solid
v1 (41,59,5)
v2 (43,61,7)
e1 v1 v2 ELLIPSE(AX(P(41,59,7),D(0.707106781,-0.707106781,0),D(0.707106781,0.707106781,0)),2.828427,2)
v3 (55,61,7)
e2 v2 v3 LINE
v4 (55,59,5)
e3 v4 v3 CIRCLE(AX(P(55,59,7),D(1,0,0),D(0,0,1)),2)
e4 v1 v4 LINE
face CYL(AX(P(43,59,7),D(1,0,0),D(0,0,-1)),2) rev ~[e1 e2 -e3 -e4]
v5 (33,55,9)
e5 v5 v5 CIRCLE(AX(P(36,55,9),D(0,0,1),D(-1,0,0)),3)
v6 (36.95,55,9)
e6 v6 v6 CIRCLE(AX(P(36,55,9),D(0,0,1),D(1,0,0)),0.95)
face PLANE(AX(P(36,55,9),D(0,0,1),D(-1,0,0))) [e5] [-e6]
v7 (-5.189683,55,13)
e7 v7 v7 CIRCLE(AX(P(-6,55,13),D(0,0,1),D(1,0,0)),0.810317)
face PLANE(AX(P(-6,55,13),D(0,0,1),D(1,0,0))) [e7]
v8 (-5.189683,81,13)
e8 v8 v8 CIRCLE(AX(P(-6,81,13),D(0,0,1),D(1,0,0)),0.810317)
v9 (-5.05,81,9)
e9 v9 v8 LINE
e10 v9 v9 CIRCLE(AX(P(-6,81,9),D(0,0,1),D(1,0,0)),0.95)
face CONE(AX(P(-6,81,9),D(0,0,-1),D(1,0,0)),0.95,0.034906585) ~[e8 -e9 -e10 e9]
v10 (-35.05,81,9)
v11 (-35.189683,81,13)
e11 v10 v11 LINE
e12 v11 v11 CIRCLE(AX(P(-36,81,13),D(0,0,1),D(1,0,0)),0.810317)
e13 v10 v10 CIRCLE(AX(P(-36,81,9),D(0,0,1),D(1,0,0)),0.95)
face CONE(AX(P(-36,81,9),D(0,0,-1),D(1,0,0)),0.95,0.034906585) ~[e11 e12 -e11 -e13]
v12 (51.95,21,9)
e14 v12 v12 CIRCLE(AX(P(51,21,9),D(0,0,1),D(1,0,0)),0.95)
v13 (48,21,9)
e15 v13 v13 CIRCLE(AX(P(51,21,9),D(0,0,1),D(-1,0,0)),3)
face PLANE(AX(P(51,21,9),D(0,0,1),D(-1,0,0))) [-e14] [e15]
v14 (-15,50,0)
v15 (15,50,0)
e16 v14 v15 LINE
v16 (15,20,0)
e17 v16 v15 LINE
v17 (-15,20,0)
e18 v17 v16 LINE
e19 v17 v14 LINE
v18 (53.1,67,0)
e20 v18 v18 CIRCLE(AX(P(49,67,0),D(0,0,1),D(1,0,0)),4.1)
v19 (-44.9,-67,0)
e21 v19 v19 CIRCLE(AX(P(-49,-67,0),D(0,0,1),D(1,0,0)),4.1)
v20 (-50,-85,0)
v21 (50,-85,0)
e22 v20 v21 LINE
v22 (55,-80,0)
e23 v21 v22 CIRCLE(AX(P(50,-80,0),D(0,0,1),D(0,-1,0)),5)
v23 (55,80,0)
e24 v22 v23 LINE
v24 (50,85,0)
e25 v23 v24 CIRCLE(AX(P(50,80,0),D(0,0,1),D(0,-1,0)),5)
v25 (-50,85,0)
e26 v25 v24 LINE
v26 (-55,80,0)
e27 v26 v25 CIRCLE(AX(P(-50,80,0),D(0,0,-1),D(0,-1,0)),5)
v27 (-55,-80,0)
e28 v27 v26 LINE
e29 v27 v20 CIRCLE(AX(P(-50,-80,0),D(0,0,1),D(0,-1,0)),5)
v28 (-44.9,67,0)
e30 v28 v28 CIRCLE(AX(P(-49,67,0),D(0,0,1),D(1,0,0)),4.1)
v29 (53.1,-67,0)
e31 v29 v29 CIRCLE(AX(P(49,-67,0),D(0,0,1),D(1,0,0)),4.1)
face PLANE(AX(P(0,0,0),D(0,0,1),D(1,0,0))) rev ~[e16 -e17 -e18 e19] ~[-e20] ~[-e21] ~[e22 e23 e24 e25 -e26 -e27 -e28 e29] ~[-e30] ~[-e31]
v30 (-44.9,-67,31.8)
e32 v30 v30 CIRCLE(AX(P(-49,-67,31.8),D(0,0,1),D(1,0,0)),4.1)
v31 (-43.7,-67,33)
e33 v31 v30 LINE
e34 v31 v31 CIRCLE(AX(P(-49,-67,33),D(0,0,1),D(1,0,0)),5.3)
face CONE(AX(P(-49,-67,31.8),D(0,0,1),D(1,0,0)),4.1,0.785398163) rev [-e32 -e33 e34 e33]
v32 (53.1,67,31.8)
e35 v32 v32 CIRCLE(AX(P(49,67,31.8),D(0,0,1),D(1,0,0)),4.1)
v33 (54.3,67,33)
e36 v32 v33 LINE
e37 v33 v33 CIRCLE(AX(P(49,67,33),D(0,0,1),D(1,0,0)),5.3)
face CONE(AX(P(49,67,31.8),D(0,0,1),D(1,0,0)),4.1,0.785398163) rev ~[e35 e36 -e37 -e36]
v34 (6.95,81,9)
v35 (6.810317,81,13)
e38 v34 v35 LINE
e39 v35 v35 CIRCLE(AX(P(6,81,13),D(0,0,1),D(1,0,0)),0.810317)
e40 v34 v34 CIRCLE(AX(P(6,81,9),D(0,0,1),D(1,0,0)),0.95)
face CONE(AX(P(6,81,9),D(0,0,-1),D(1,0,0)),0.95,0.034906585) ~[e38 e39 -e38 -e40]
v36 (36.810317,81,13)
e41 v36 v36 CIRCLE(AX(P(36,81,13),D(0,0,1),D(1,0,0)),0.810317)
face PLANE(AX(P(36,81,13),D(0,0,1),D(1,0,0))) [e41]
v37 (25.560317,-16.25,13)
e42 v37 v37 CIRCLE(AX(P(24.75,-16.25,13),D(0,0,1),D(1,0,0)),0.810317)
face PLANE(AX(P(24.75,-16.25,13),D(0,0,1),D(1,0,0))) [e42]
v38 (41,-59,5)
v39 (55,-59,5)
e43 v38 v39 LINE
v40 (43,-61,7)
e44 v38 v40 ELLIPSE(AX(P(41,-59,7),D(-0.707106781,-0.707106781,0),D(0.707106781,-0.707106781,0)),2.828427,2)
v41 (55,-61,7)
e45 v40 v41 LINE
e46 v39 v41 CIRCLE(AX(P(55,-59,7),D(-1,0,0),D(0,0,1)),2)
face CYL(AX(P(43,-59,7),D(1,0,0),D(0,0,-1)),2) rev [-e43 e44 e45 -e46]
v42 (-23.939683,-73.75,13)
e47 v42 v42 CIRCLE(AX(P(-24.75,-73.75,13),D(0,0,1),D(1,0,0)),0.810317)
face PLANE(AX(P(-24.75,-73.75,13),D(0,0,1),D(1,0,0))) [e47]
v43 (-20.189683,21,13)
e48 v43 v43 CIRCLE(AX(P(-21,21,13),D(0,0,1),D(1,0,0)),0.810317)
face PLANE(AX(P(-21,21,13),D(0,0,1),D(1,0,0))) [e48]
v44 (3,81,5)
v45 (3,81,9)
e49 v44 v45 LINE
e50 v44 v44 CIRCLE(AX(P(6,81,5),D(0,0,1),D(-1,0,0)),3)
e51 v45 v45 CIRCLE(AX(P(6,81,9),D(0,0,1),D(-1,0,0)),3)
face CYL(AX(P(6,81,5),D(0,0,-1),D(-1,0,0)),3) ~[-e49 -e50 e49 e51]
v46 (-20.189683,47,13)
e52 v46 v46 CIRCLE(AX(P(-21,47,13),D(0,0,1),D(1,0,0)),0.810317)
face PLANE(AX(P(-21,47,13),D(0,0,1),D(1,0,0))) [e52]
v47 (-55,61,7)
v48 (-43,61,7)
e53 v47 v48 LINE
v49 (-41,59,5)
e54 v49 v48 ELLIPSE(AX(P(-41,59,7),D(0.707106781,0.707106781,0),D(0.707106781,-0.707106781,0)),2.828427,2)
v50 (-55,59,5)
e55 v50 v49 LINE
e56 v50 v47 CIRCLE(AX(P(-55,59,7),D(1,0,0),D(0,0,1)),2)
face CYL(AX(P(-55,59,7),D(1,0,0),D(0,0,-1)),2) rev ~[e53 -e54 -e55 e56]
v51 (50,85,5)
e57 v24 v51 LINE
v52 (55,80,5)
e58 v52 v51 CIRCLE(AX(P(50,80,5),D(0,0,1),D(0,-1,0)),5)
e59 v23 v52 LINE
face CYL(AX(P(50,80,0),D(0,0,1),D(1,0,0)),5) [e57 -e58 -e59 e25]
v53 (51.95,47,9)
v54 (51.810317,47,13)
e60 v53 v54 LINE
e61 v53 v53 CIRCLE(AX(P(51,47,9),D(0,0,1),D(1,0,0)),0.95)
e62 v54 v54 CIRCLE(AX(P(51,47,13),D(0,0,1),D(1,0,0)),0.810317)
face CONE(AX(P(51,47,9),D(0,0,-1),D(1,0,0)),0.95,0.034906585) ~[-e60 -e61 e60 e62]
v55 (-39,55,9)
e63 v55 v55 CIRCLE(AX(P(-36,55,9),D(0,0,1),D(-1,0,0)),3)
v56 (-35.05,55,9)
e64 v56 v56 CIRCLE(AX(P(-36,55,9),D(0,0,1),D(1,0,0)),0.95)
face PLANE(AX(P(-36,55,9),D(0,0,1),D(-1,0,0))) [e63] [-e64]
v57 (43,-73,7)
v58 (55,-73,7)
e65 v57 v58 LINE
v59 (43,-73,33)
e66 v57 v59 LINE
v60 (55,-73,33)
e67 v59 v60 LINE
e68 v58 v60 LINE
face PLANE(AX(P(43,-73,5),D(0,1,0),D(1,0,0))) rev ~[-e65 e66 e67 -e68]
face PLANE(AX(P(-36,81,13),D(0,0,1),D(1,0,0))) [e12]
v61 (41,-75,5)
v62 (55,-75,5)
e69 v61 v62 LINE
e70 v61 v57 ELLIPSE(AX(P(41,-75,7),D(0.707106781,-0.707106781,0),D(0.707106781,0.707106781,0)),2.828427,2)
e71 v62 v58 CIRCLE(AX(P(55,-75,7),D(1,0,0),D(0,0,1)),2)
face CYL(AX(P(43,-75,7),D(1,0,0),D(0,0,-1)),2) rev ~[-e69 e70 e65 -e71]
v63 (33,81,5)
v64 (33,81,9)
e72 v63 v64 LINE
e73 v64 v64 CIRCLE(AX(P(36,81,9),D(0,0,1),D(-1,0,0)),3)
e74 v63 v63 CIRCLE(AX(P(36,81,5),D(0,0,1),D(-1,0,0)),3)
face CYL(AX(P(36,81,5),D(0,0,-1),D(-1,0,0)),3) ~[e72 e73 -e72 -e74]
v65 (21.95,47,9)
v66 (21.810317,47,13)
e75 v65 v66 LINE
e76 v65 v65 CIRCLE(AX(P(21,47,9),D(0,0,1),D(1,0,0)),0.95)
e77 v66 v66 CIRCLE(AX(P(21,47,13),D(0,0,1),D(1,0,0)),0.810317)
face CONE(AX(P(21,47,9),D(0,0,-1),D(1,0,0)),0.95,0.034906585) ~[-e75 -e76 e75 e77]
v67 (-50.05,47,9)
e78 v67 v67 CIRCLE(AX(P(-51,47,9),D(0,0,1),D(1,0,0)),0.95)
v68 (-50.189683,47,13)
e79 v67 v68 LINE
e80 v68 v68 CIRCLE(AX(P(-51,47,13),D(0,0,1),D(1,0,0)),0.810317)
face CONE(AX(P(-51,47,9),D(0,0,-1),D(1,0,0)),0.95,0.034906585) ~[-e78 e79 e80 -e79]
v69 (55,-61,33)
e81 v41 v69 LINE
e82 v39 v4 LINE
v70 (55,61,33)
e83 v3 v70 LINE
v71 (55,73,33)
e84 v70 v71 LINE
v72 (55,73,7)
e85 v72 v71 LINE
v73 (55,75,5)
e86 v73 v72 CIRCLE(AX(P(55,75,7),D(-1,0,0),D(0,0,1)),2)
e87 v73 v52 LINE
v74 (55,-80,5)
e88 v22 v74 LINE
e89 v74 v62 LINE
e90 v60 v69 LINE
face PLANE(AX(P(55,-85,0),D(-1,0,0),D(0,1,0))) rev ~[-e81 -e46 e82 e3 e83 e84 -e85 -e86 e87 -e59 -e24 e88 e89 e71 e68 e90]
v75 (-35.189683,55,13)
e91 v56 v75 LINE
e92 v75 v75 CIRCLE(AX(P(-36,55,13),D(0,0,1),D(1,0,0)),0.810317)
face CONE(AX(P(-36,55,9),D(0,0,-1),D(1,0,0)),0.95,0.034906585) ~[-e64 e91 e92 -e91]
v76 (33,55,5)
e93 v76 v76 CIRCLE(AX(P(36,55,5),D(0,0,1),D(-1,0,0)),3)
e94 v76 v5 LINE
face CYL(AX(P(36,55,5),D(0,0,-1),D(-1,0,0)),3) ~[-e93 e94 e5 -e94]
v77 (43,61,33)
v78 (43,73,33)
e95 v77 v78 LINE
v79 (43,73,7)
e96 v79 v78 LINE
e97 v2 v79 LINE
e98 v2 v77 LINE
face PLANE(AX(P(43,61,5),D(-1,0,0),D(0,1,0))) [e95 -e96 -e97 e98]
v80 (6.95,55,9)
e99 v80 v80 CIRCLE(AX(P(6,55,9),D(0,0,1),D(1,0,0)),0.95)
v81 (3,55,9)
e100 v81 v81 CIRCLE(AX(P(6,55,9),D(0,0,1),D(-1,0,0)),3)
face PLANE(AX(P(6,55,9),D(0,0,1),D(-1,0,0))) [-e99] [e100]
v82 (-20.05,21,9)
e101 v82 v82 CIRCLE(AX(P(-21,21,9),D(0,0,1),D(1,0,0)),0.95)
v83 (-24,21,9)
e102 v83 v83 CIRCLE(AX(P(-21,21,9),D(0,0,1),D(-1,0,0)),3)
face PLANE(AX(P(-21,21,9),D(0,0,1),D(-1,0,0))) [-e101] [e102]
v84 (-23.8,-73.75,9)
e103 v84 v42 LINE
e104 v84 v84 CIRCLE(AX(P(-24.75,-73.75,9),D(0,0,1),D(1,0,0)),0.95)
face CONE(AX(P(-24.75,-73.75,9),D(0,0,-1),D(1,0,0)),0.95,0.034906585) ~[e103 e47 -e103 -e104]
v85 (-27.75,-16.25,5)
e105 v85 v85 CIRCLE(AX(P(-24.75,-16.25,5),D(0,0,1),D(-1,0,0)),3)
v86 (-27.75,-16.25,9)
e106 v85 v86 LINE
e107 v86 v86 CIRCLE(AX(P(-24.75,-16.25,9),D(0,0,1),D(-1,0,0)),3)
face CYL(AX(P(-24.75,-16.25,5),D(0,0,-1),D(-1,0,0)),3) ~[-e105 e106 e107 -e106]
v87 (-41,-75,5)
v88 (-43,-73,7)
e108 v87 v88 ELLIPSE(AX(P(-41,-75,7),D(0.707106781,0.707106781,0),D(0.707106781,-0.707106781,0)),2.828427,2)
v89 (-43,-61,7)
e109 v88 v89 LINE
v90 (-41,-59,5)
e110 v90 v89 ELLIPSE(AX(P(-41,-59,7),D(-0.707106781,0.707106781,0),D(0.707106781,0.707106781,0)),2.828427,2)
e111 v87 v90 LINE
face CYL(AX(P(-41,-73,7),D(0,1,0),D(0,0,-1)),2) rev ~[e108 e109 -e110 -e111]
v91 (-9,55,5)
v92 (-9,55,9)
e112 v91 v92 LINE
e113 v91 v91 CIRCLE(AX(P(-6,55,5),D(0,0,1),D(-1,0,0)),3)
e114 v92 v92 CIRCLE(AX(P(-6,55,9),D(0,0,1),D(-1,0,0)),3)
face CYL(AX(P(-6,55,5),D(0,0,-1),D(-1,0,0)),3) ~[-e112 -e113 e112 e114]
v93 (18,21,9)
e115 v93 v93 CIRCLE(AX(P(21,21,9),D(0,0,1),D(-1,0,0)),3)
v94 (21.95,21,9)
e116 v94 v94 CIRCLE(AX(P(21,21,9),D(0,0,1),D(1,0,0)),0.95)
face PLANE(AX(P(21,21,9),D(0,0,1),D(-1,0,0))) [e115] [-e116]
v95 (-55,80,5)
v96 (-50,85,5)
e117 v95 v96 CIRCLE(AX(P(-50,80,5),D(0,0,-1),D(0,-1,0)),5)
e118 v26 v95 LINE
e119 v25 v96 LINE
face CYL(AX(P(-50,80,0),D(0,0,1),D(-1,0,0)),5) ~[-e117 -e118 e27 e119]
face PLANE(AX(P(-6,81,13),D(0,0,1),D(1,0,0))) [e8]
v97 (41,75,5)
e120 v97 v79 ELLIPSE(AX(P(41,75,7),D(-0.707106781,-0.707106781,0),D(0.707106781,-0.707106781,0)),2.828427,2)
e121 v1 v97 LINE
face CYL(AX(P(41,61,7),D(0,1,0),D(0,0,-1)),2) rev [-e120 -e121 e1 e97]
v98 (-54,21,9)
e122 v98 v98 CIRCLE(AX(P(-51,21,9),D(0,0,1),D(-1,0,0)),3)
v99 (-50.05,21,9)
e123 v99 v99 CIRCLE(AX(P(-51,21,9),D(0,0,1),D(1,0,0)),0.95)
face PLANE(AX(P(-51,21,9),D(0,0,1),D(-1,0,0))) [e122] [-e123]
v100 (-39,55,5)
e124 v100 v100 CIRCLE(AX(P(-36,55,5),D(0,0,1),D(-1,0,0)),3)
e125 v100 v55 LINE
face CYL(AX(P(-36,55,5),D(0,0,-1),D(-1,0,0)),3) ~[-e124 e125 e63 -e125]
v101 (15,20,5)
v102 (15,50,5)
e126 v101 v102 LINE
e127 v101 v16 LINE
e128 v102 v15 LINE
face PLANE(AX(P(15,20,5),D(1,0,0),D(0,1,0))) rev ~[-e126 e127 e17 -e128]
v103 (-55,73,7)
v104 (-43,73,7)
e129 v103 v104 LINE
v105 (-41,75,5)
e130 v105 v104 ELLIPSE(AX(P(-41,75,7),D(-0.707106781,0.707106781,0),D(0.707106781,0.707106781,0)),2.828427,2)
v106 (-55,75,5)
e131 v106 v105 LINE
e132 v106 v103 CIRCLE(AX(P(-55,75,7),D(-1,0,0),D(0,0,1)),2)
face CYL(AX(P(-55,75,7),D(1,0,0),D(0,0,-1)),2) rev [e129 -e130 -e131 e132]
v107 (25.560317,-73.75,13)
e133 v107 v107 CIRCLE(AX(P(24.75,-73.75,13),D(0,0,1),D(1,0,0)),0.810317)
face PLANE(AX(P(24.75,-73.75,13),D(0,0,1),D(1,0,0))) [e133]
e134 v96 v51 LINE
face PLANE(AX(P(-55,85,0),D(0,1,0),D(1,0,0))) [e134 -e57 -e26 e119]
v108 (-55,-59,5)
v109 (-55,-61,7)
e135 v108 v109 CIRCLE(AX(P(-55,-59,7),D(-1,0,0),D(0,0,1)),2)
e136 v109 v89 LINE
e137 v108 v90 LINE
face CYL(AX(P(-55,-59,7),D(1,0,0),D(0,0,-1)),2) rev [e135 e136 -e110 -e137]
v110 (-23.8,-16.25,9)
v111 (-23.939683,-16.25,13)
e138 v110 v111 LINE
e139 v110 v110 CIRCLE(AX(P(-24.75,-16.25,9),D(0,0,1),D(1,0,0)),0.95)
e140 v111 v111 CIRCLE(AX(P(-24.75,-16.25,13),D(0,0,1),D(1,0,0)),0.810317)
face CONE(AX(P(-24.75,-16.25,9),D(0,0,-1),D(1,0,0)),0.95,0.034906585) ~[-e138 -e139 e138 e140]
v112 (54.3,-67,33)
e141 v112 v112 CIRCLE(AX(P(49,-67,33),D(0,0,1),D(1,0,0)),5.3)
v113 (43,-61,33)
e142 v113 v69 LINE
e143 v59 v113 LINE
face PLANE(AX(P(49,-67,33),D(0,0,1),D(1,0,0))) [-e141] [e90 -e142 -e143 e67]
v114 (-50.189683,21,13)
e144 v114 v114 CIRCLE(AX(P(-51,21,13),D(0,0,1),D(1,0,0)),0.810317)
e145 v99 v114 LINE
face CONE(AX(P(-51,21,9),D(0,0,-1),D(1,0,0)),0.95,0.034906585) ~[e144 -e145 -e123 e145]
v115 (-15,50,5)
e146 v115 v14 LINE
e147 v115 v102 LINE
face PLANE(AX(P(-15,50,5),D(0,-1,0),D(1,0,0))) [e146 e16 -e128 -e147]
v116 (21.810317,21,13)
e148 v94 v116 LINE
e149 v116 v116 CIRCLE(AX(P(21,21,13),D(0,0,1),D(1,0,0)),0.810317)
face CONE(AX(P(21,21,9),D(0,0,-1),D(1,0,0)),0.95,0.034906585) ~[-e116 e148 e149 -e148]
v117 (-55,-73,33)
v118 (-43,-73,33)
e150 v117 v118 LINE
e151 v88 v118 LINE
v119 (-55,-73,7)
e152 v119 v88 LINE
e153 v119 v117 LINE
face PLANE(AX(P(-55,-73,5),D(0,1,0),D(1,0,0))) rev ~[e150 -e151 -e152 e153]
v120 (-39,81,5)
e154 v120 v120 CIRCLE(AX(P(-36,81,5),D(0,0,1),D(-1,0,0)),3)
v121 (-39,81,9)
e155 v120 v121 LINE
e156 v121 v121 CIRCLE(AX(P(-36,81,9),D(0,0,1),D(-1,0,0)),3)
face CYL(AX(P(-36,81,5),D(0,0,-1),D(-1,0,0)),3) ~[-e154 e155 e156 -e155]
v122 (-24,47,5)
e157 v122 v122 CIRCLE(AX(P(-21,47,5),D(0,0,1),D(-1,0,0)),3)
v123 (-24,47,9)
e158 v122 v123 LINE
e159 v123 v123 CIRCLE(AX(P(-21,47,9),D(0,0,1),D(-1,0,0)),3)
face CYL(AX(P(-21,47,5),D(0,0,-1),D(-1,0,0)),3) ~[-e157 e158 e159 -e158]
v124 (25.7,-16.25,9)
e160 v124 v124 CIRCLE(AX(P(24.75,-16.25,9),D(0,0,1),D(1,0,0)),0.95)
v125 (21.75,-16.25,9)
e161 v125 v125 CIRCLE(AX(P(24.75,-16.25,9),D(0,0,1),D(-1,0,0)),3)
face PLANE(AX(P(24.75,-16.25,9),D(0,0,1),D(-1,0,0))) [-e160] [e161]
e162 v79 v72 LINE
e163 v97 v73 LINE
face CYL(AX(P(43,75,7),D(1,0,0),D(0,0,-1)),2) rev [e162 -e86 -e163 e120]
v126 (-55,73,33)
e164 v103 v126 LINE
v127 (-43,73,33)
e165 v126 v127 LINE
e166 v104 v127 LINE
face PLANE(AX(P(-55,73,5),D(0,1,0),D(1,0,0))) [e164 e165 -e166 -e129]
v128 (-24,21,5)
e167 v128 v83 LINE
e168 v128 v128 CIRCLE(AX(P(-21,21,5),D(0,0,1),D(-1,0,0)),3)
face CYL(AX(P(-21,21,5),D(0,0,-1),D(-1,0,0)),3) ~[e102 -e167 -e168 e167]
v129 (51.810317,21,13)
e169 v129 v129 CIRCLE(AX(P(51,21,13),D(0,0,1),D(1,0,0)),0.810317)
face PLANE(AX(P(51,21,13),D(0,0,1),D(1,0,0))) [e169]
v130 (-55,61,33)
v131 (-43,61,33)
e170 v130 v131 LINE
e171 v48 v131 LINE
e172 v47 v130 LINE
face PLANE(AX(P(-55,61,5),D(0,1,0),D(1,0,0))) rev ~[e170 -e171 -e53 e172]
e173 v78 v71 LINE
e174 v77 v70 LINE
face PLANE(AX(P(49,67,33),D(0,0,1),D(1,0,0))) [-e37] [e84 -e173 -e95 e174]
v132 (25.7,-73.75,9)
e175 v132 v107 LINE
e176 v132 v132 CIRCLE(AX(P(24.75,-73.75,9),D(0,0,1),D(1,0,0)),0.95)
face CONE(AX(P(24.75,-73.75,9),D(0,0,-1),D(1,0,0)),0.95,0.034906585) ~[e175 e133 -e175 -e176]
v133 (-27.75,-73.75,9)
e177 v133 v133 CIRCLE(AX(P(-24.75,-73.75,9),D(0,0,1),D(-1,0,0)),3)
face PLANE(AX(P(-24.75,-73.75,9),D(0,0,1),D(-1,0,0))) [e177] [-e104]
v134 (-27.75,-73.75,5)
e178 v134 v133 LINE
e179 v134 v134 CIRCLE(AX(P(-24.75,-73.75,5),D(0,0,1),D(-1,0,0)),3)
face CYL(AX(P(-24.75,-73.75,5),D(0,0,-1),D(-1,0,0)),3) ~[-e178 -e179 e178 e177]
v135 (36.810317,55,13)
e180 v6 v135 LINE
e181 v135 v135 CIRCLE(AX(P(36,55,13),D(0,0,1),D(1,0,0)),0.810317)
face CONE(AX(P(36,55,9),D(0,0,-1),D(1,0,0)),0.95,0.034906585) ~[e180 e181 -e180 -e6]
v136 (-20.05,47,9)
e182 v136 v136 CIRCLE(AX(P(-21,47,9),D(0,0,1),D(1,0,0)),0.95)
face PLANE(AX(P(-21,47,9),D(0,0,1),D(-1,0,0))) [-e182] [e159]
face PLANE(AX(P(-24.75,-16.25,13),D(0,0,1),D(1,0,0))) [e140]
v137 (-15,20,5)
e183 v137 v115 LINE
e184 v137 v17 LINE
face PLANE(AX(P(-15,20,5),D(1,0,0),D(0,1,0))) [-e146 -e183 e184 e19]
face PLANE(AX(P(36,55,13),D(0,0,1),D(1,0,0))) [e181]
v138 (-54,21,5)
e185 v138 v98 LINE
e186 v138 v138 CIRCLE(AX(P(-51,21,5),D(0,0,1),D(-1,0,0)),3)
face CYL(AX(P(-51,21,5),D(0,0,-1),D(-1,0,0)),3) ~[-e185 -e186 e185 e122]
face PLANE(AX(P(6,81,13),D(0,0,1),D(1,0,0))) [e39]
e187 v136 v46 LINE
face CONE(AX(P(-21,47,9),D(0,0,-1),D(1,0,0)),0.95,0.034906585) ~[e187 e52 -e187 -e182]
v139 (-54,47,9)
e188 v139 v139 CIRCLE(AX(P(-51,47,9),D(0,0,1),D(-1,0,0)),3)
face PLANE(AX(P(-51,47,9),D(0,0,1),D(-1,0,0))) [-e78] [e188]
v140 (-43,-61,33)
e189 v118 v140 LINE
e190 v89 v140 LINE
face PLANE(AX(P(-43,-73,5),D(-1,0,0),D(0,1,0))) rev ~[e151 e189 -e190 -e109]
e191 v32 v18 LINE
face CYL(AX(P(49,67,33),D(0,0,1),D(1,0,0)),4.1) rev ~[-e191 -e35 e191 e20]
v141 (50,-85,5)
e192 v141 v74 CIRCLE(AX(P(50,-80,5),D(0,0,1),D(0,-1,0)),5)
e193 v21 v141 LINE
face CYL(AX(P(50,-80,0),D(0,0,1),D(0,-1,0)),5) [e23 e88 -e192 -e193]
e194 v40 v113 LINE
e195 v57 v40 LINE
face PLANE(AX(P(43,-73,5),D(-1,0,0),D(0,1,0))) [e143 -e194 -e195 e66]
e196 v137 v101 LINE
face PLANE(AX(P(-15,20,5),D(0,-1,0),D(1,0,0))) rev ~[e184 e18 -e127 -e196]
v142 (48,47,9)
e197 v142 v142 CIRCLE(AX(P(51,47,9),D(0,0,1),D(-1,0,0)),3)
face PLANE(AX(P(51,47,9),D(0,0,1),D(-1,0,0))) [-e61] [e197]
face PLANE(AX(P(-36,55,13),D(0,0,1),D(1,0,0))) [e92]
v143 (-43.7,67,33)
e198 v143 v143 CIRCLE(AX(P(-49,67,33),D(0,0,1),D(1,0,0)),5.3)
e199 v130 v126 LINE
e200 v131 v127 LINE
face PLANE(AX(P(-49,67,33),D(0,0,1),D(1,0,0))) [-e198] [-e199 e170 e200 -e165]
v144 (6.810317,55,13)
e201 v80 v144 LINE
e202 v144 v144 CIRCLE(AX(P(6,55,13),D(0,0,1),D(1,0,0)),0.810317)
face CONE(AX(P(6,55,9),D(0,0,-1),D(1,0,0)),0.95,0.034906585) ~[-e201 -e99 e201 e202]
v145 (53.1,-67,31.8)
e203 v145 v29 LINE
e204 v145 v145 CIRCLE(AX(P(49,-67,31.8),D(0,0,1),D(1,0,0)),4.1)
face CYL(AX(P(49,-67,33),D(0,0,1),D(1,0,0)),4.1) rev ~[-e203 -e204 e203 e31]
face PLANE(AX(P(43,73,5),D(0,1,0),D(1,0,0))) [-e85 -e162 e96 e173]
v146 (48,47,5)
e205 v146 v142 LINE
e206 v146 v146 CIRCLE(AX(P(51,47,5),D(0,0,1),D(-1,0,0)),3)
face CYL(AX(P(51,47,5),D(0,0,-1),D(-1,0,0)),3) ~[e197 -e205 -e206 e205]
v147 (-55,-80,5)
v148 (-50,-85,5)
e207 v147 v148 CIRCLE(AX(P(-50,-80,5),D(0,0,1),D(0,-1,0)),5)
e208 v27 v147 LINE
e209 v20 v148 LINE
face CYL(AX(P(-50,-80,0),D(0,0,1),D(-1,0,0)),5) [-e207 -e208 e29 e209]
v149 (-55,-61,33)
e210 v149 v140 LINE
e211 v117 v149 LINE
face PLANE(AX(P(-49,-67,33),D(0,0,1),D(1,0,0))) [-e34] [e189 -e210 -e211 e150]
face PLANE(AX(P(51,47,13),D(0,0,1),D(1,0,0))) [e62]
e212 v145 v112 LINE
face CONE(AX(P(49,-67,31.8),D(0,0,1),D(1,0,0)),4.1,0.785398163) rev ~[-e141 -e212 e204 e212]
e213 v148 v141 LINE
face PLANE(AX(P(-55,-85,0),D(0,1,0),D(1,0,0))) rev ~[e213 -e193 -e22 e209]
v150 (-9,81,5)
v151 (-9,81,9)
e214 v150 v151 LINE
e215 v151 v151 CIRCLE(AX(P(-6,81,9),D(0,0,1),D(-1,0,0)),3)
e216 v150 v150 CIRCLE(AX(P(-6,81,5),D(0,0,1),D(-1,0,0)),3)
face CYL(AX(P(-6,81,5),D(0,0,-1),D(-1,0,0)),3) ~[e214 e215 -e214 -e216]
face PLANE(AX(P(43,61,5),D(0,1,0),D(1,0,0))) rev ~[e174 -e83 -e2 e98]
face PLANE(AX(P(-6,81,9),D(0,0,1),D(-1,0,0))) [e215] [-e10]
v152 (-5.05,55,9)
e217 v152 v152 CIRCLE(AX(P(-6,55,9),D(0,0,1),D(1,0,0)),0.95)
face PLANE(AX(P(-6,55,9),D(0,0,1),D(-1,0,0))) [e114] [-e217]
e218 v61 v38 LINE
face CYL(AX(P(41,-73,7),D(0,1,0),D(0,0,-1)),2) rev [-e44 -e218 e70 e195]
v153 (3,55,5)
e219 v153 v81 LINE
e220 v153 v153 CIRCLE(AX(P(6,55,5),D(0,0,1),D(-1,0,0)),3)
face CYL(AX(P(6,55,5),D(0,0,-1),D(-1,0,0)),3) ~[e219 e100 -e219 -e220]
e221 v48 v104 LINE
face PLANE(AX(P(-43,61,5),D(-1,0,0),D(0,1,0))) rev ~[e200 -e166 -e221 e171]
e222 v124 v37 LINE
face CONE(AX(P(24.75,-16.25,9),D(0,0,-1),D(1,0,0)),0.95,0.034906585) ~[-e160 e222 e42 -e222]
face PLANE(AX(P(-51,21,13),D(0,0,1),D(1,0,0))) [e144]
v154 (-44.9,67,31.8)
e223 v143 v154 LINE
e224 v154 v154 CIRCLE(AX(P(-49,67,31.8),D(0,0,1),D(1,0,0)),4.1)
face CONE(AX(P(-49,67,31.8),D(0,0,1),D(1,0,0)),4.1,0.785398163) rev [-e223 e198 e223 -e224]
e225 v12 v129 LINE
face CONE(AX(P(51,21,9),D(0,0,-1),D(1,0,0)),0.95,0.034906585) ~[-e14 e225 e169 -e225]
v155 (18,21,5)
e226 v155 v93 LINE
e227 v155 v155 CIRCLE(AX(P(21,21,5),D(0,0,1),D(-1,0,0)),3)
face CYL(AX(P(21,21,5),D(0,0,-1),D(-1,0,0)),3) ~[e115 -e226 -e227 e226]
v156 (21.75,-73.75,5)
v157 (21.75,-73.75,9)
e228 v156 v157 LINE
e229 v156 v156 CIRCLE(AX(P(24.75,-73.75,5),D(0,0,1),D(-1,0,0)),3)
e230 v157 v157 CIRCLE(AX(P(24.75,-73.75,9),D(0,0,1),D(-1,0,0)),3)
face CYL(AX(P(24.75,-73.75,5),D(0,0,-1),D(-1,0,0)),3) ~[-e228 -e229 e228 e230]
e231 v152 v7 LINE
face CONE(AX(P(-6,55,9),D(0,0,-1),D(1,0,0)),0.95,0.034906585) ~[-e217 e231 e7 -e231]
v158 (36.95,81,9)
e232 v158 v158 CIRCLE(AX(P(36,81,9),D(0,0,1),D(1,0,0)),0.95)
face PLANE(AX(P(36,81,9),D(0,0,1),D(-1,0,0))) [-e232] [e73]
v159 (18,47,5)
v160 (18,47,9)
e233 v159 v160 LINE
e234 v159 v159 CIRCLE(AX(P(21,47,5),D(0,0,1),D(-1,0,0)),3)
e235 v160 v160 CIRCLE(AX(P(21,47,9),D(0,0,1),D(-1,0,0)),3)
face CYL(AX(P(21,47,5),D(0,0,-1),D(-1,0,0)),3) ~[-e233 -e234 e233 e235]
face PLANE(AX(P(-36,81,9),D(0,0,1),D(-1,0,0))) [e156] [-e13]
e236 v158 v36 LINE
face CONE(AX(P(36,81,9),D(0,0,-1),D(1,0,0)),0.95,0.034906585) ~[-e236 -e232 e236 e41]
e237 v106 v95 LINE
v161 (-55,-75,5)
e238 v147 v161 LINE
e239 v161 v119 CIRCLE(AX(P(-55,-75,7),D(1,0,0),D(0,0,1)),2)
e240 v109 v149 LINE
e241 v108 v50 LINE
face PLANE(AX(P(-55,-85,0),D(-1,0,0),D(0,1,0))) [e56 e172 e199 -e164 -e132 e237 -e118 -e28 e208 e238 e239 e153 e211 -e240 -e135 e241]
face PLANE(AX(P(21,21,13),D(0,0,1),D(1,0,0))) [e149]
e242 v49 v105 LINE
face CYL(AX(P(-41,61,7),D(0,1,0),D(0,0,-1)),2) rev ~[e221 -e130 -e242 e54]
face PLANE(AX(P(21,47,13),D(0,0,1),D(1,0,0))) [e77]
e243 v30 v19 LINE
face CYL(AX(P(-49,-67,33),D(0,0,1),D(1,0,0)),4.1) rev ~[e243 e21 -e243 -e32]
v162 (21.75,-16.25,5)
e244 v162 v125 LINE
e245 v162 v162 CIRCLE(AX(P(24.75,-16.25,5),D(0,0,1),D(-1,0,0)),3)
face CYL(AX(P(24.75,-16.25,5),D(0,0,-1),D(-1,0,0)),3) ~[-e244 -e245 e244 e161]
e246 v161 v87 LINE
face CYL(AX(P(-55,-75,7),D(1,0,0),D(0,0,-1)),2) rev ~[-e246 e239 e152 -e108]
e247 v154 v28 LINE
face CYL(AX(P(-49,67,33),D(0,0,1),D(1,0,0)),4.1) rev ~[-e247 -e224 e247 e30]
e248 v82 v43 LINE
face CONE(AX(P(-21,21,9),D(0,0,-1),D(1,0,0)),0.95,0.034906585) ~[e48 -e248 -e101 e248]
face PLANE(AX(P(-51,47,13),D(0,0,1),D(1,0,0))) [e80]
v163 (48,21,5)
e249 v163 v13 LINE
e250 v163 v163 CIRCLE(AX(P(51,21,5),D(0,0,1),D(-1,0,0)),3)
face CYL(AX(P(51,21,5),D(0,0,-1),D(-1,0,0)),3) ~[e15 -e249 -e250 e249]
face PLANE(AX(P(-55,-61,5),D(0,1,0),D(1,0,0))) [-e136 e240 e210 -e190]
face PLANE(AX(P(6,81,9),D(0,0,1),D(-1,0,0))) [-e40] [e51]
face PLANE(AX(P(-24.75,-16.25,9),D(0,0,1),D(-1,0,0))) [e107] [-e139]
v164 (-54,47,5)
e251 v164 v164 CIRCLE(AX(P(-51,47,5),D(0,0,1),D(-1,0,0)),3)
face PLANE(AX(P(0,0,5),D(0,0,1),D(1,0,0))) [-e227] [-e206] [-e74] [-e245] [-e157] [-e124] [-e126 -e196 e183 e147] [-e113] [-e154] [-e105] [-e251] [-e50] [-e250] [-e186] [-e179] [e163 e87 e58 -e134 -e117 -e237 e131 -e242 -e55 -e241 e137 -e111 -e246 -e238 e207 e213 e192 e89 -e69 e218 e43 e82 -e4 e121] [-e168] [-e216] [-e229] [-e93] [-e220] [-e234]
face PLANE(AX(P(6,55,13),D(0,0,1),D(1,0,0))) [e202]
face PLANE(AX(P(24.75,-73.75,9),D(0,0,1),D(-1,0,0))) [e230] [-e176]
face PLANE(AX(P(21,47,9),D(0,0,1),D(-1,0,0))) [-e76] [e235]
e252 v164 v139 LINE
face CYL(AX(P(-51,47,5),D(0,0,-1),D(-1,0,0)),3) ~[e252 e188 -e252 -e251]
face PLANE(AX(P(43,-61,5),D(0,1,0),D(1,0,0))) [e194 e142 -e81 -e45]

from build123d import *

# Parameters (mm, degrees)
SKIZZE1_W                                  = 110
SKIZZE1_H                                  = 170
AUFSATZ_LINEAR_AUSTRAGEN1_DEPTH            = 5
VERRUNDUNG1_R                              = 5
SKIZZE7_W                                  = 12
SKIZZE7_H                                  = 12
AUFSATZ_LINEAR_AUSTRAGEN3_DEPTH            = 28
VERRUNDUNG2_R                              = 2
SKIZZE8_R                                  = 4.1
SCHNITT_LINEAR_AUSTRAGEN3_DEPTH            = 107.484740691
LINEARES_MUSTER1_COUNT                     = 2
LINEARES_MUSTER1_PITCH                     = 134
LINEARES_MUSTER1_COUNT_DIR2                = 2
LINEARES_MUSTER1_PITCH_DIR2                = 98
SKIZZE9_R                                  = 3
AUFSATZ_LINEAR_AUSTRAGEN4_DEPTH            = 4
SKIZZE10_R                                 = 0.95
AUFSATZ_LINEAR_AUSTRAGEN5_DEPTH            = 4
AUFSATZ_LINEAR_AUSTRAGEN5_DRAFT            = 2
AUFSATZ_LINEAR_AUSTRAGEN5_PROFILE_2_DEPTH  = 4
AUFSATZ_LINEAR_AUSTRAGEN5_PROFILE_2_DRAFT  = 2
AUFSATZ_LINEAR_AUSTRAGEN5_PROFILE_3_DEPTH  = 4
AUFSATZ_LINEAR_AUSTRAGEN5_PROFILE_3_DRAFT  = 2
AUFSATZ_LINEAR_AUSTRAGEN5_PROFILE_4_DEPTH  = 4
AUFSATZ_LINEAR_AUSTRAGEN5_PROFILE_4_DRAFT  = 2
AUFSATZ_LINEAR_AUSTRAGEN5_PROFILE_5_DEPTH  = 4
AUFSATZ_LINEAR_AUSTRAGEN5_PROFILE_5_DRAFT  = 2
AUFSATZ_LINEAR_AUSTRAGEN5_PROFILE_6_DEPTH  = 4
AUFSATZ_LINEAR_AUSTRAGEN5_PROFILE_6_DRAFT  = 2
AUFSATZ_LINEAR_AUSTRAGEN5_PROFILE_7_DEPTH  = 4
AUFSATZ_LINEAR_AUSTRAGEN5_PROFILE_7_DRAFT  = 2
AUFSATZ_LINEAR_AUSTRAGEN5_PROFILE_8_DEPTH  = 4
AUFSATZ_LINEAR_AUSTRAGEN5_PROFILE_8_DRAFT  = 2
AUFSATZ_LINEAR_AUSTRAGEN5_PROFILE_9_DEPTH  = 4
AUFSATZ_LINEAR_AUSTRAGEN5_PROFILE_9_DRAFT  = 2
AUFSATZ_LINEAR_AUSTRAGEN5_PROFILE_10_DEPTH = 4
AUFSATZ_LINEAR_AUSTRAGEN5_PROFILE_10_DRAFT = 2
AUFSATZ_LINEAR_AUSTRAGEN5_PROFILE_11_DEPTH = 4
AUFSATZ_LINEAR_AUSTRAGEN5_PROFILE_11_DRAFT = 2
AUFSATZ_LINEAR_AUSTRAGEN5_PROFILE_12_DEPTH = 4
AUFSATZ_LINEAR_AUSTRAGEN5_PROFILE_12_DRAFT = 2
AUFSATZ_LINEAR_AUSTRAGEN5_PROFILE_13_DEPTH = 4
AUFSATZ_LINEAR_AUSTRAGEN5_PROFILE_13_DRAFT = 2
AUFSATZ_LINEAR_AUSTRAGEN5_PROFILE_14_DEPTH = 4
AUFSATZ_LINEAR_AUSTRAGEN5_PROFILE_14_DRAFT = 2
AUFSATZ_LINEAR_AUSTRAGEN5_PROFILE_15_DEPTH = 4
AUFSATZ_LINEAR_AUSTRAGEN5_PROFILE_15_DRAFT = 2
AUFSATZ_LINEAR_AUSTRAGEN5_PROFILE_16_DEPTH = 4
AUFSATZ_LINEAR_AUSTRAGEN5_PROFILE_16_DRAFT = 2
AUFSATZ_LINEAR_AUSTRAGEN5_PROFILE_17_DEPTH = 4
AUFSATZ_LINEAR_AUSTRAGEN5_PROFILE_17_DRAFT = 2
AUFSATZ_LINEAR_AUSTRAGEN5_PROFILE_18_DEPTH = 4
AUFSATZ_LINEAR_AUSTRAGEN5_PROFILE_18_DRAFT = 2
AUFSATZ_LINEAR_AUSTRAGEN5_PROFILE_19_DEPTH = 4
AUFSATZ_LINEAR_AUSTRAGEN5_PROFILE_19_DRAFT = 2
AUFSATZ_LINEAR_AUSTRAGEN5_PROFILE_20_DEPTH = 4
AUFSATZ_LINEAR_AUSTRAGEN5_PROFILE_20_DRAFT = 2
FASE1_SIZE                                 = 1.2
SKIZZE11_W                                 = 30
SKIZZE11_H                                 = 30
SCHNITT_LINEAR_AUSTRAGEN4_DEPTH            = 106.0428484


with BuildPart() as part:
    # Skizze1 → Aufsatz-Linear austragen1 (new body)
    with BuildSketch(Plane.XY):
        Rectangle(SKIZZE1_W, SKIZZE1_H)
    extrude(amount=AUFSATZ_LINEAR_AUSTRAGEN1_DEPTH)

    # Verrundung1
    verrundung1_edges = [part.edges().sort_by_distance(p)[0] for p in [
        (55, -85, 2.5),
        (-55, -85, 2.5),
        (-55, 85, 2.5),
        (55, 85, 2.5),
    ]]
    fillet(verrundung1_edges, radius=VERRUNDUNG1_R)

    # Skizze7 → Aufsatz-Linear austragen3 (add)
    with BuildSketch(Plane.XY.offset(5)):
        with Locations((-49, 67)):
            Rectangle(SKIZZE7_W, SKIZZE7_H)
        with Locations((49, 67)):
            Rectangle(SKIZZE7_W, SKIZZE7_H)
        with Locations((49, -67)):
            Rectangle(SKIZZE7_W, SKIZZE7_H)
        with Locations((-49, -67)):
            Rectangle(SKIZZE7_W, SKIZZE7_H)
    extrude(amount=AUFSATZ_LINEAR_AUSTRAGEN3_DEPTH)

    # Verrundung2
    verrundung2_edges = [part.edges().sort_by_distance(p)[0] for p in [
        (-49, 61, 5),
        (-43, 67, 5),
        (-49, 73, 5),
        (49, 73, 5),
        (43, 67, 5),
        (49, 61, 5),
        (49, -61, 5),
        (43, -67, 5),
        (49, -73, 5),
        (-49, -73, 5),
        (-43, -67, 5),
        (-49, -61, 5),
    ]]
    fillet(verrundung2_edges, radius=VERRUNDUNG2_R)

    # Skizze8 → Schnitt-Linear austragen3 (cut, through all)
    with BuildSketch(Plane.XY.offset(33)):
        with Locations((-49, 67)):
            Circle(SKIZZE8_R)
    schnitt_linear_austragen3 = extrude(amount=-SCHNITT_LINEAR_AUSTRAGEN3_DEPTH, mode=Mode.SUBTRACT)

    # Lineares Muster1: Schnitt-Linear austragen3 2 × 2
    with Locations(*[(j * LINEARES_MUSTER1_PITCH_DIR2, -i * LINEARES_MUSTER1_PITCH, 0) for i in range(LINEARES_MUSTER1_COUNT) for j in range(LINEARES_MUSTER1_COUNT_DIR2) if (i, j) != (0, 0)]):
        add(schnitt_linear_austragen3, mode=Mode.SUBTRACT)

    # Skizze9 → Aufsatz-Linear austragen4 (add)
    with BuildSketch(Plane.XY.offset(5)):
        with Locations(Location((24.75, -73.75, 0), (0, 0, 180))):
            Circle(SKIZZE9_R)
        with Locations(Location((24.75, -16.25, 0), (0, 0, 180))):
            Circle(SKIZZE9_R)
        with Locations(Location((-24.75, -16.25, 0), (0, 0, 180))):
            Circle(SKIZZE9_R)
        with Locations(Location((-24.75, -73.75, 0), (0, 0, 180))):
            Circle(SKIZZE9_R)
        with Locations(Location((-36, 81, 0), (0, 0, 180))):
            Circle(SKIZZE9_R)
        with Locations(Location((-6, 81, 0), (0, 0, 180))):
            Circle(SKIZZE9_R)
        with Locations(Location((-36, 55, 0), (0, 0, 180))):
            Circle(SKIZZE9_R)
        with Locations(Location((-6, 55, 0), (0, 0, 180))):
            Circle(SKIZZE9_R)
        with Locations(Location((6, 81, 0), (0, 0, 180))):
            Circle(SKIZZE9_R)
        with Locations(Location((36, 81, 0), (0, 0, 180))):
            Circle(SKIZZE9_R)
        with Locations(Location((36, 55, 0), (0, 0, 180))):
            Circle(SKIZZE9_R)
        with Locations(Location((6, 55, 0), (0, 0, 180))):
            Circle(SKIZZE9_R)
        with Locations(Location((21, 47, 0), (0, 0, 180))):
            Circle(SKIZZE9_R)
        with Locations(Location((51, 47, 0), (0, 0, 180))):
            Circle(SKIZZE9_R)
        with Locations(Location((51, 21, 0), (0, 0, 180))):
            Circle(SKIZZE9_R)
        with Locations(Location((21, 21, 0), (0, 0, 180))):
            Circle(SKIZZE9_R)
        with Locations(Location((-21, 47, 0), (0, 0, 180))):
            Circle(SKIZZE9_R)
        with Locations(Location((-51, 47, 0), (0, 0, 180))):
            Circle(SKIZZE9_R)
        with Locations(Location((-51, 21, 0), (0, 0, 180))):
            Circle(SKIZZE9_R)
        with Locations(Location((-21, 21, 0), (0, 0, 180))):
            Circle(SKIZZE9_R)
    extrude(amount=AUFSATZ_LINEAR_AUSTRAGEN4_DEPTH)


with BuildPart() as aufsatz_linear_austragen5_tool:
    # Skizze10 → Aufsatz-Linear austragen5 (with draft: the straight prism first)
    with BuildSketch(Plane.XY.offset(9)):
        with Locations((24.75, -73.75)):
            Circle(SKIZZE10_R)
    extrude(amount=AUFSATZ_LINEAR_AUSTRAGEN5_DEPTH)
    # Aufsatz-Linear austragen5: the draft: its side faces are tilted about the plane it starts from
    aufsatz_linear_austragen5_sides = [aufsatz_linear_austragen5_tool.faces().sort_by_distance(p)[0] for p in [
        (23.8, -73.75, 11),
    ]]
    draft(aufsatz_linear_austragen5_sides, Plane.XY.offset(9), AUFSATZ_LINEAR_AUSTRAGEN5_DRAFT)


with BuildPart() as part_1:
    add(part.part)

    # Aufsatz-Linear austragen5: add aufsatz_linear_austragen5_tool
    add(aufsatz_linear_austragen5_tool.part)


with BuildPart() as aufsatz_linear_austragen5_profile_2_tool:
    # Skizze10 → Aufsatz-Linear austragen5 profile 2 (with draft: the straight prism first)
    with BuildSketch(Plane.XY.offset(9)):
        with Locations((24.75, -16.25)):
            Circle(SKIZZE10_R)
    extrude(amount=AUFSATZ_LINEAR_AUSTRAGEN5_PROFILE_2_DEPTH)
    # Aufsatz-Linear austragen5 profile 2: the draft: its side faces are tilted about the plane it starts from
    aufsatz_linear_austragen5_profile_2_sides = [aufsatz_linear_austragen5_profile_2_tool.faces().sort_by_distance(p)[0] for p in [
        (23.8, -16.25, 11),
    ]]
    draft(aufsatz_linear_austragen5_profile_2_sides, Plane.XY.offset(9), AUFSATZ_LINEAR_AUSTRAGEN5_PROFILE_2_DRAFT)


with BuildPart() as part_2:
    add(part_1.part)

    # Aufsatz-Linear austragen5 profile 2: add aufsatz_linear_austragen5_profile_2_tool
    add(aufsatz_linear_austragen5_profile_2_tool.part)


with BuildPart() as aufsatz_linear_austragen5_profile_3_tool:
    # Skizze10 → Aufsatz-Linear austragen5 profile 3 (with draft: the straight prism first)
    with BuildSketch(Plane.XY.offset(9)):
        with Locations((-24.75, -16.25)):
            Circle(SKIZZE10_R)
    extrude(amount=AUFSATZ_LINEAR_AUSTRAGEN5_PROFILE_3_DEPTH)
    # Aufsatz-Linear austragen5 profile 3: the draft: its side faces are tilted about the plane it starts from
    aufsatz_linear_austragen5_profile_3_sides = [aufsatz_linear_austragen5_profile_3_tool.faces().sort_by_distance(p)[0] for p in [
        (-25.7, -16.25, 11),
    ]]
    draft(aufsatz_linear_austragen5_profile_3_sides, Plane.XY.offset(9), AUFSATZ_LINEAR_AUSTRAGEN5_PROFILE_3_DRAFT)


with BuildPart() as part_3:
    add(part_2.part)

    # Aufsatz-Linear austragen5 profile 3: add aufsatz_linear_austragen5_profile_3_tool
    add(aufsatz_linear_austragen5_profile_3_tool.part)


with BuildPart() as aufsatz_linear_austragen5_profile_4_tool:
    # Skizze10 → Aufsatz-Linear austragen5 profile 4 (with draft: the straight prism first)
    with BuildSketch(Plane.XY.offset(9)):
        with Locations((-24.75, -73.75)):
            Circle(SKIZZE10_R)
    extrude(amount=AUFSATZ_LINEAR_AUSTRAGEN5_PROFILE_4_DEPTH)
    # Aufsatz-Linear austragen5 profile 4: the draft: its side faces are tilted about the plane it starts from
    aufsatz_linear_austragen5_profile_4_sides = [aufsatz_linear_austragen5_profile_4_tool.faces().sort_by_distance(p)[0] for p in [
        (-25.7, -73.75, 11),
    ]]
    draft(aufsatz_linear_austragen5_profile_4_sides, Plane.XY.offset(9), AUFSATZ_LINEAR_AUSTRAGEN5_PROFILE_4_DRAFT)


with BuildPart() as part_4:
    add(part_3.part)

    # Aufsatz-Linear austragen5 profile 4: add aufsatz_linear_austragen5_profile_4_tool
    add(aufsatz_linear_austragen5_profile_4_tool.part)


with BuildPart() as aufsatz_linear_austragen5_profile_5_tool:
    # Skizze10 → Aufsatz-Linear austragen5 profile 5 (with draft: the straight prism first)
    with BuildSketch(Plane.XY.offset(9)):
        with Locations((-51, 47)):
            Circle(SKIZZE10_R)
    extrude(amount=AUFSATZ_LINEAR_AUSTRAGEN5_PROFILE_5_DEPTH)
    # Aufsatz-Linear austragen5 profile 5: the draft: its side faces are tilted about the plane it starts from
    aufsatz_linear_austragen5_profile_5_sides = [aufsatz_linear_austragen5_profile_5_tool.faces().sort_by_distance(p)[0] for p in [
        (-51.95, 47, 11),
    ]]
    draft(aufsatz_linear_austragen5_profile_5_sides, Plane.XY.offset(9), AUFSATZ_LINEAR_AUSTRAGEN5_PROFILE_5_DRAFT)


with BuildPart() as part_5:
    add(part_4.part)

    # Aufsatz-Linear austragen5 profile 5: add aufsatz_linear_austragen5_profile_5_tool
    add(aufsatz_linear_austragen5_profile_5_tool.part)


with BuildPart() as aufsatz_linear_austragen5_profile_6_tool:
    # Skizze10 → Aufsatz-Linear austragen5 profile 6 (with draft: the straight prism first)
    with BuildSketch(Plane.XY.offset(9)):
        with Locations((-51, 21)):
            Circle(SKIZZE10_R)
    extrude(amount=AUFSATZ_LINEAR_AUSTRAGEN5_PROFILE_6_DEPTH)
    # Aufsatz-Linear austragen5 profile 6: the draft: its side faces are tilted about the plane it starts from
    aufsatz_linear_austragen5_profile_6_sides = [aufsatz_linear_austragen5_profile_6_tool.faces().sort_by_distance(p)[0] for p in [
        (-51.95, 21, 11),
    ]]
    draft(aufsatz_linear_austragen5_profile_6_sides, Plane.XY.offset(9), AUFSATZ_LINEAR_AUSTRAGEN5_PROFILE_6_DRAFT)


with BuildPart() as part_6:
    add(part_5.part)

    # Aufsatz-Linear austragen5 profile 6: add aufsatz_linear_austragen5_profile_6_tool
    add(aufsatz_linear_austragen5_profile_6_tool.part)


with BuildPart() as aufsatz_linear_austragen5_profile_7_tool:
    # Skizze10 → Aufsatz-Linear austragen5 profile 7 (with draft: the straight prism first)
    with BuildSketch(Plane.XY.offset(9)):
        with Locations((-21, 21)):
            Circle(SKIZZE10_R)
    extrude(amount=AUFSATZ_LINEAR_AUSTRAGEN5_PROFILE_7_DEPTH)
    # Aufsatz-Linear austragen5 profile 7: the draft: its side faces are tilted about the plane it starts from
    aufsatz_linear_austragen5_profile_7_sides = [aufsatz_linear_austragen5_profile_7_tool.faces().sort_by_distance(p)[0] for p in [
        (-21.95, 21, 11),
    ]]
    draft(aufsatz_linear_austragen5_profile_7_sides, Plane.XY.offset(9), AUFSATZ_LINEAR_AUSTRAGEN5_PROFILE_7_DRAFT)


with BuildPart() as part_7:
    add(part_6.part)

    # Aufsatz-Linear austragen5 profile 7: add aufsatz_linear_austragen5_profile_7_tool
    add(aufsatz_linear_austragen5_profile_7_tool.part)


with BuildPart() as aufsatz_linear_austragen5_profile_8_tool:
    # Skizze10 → Aufsatz-Linear austragen5 profile 8 (with draft: the straight prism first)
    with BuildSketch(Plane.XY.offset(9)):
        with Locations((-21, 47)):
            Circle(SKIZZE10_R)
    extrude(amount=AUFSATZ_LINEAR_AUSTRAGEN5_PROFILE_8_DEPTH)
    # Aufsatz-Linear austragen5 profile 8: the draft: its side faces are tilted about the plane it starts from
    aufsatz_linear_austragen5_profile_8_sides = [aufsatz_linear_austragen5_profile_8_tool.faces().sort_by_distance(p)[0] for p in [
        (-21.95, 47, 11),
    ]]
    draft(aufsatz_linear_austragen5_profile_8_sides, Plane.XY.offset(9), AUFSATZ_LINEAR_AUSTRAGEN5_PROFILE_8_DRAFT)


with BuildPart() as part_8:
    add(part_7.part)

    # Aufsatz-Linear austragen5 profile 8: add aufsatz_linear_austragen5_profile_8_tool
    add(aufsatz_linear_austragen5_profile_8_tool.part)


with BuildPart() as aufsatz_linear_austragen5_profile_9_tool:
    # Skizze10 → Aufsatz-Linear austragen5 profile 9 (with draft: the straight prism first)
    with BuildSketch(Plane.XY.offset(9)):
        with Locations((-36, 55)):
            Circle(SKIZZE10_R)
    extrude(amount=AUFSATZ_LINEAR_AUSTRAGEN5_PROFILE_9_DEPTH)
    # Aufsatz-Linear austragen5 profile 9: the draft: its side faces are tilted about the plane it starts from
    aufsatz_linear_austragen5_profile_9_sides = [aufsatz_linear_austragen5_profile_9_tool.faces().sort_by_distance(p)[0] for p in [
        (-36.95, 55, 11),
    ]]
    draft(aufsatz_linear_austragen5_profile_9_sides, Plane.XY.offset(9), AUFSATZ_LINEAR_AUSTRAGEN5_PROFILE_9_DRAFT)


with BuildPart() as part_9:
    add(part_8.part)

    # Aufsatz-Linear austragen5 profile 9: add aufsatz_linear_austragen5_profile_9_tool
    add(aufsatz_linear_austragen5_profile_9_tool.part)


with BuildPart() as aufsatz_linear_austragen5_profile_10_tool:
    # Skizze10 → Aufsatz-Linear austragen5 profile 10 (with draft: the straight prism first)
    with BuildSketch(Plane.XY.offset(9)):
        with Locations((-6, 55)):
            Circle(SKIZZE10_R)
    extrude(amount=AUFSATZ_LINEAR_AUSTRAGEN5_PROFILE_10_DEPTH)
    # Aufsatz-Linear austragen5 profile 10: the draft: its side faces are tilted about the plane it starts from
    aufsatz_linear_austragen5_profile_10_sides = [aufsatz_linear_austragen5_profile_10_tool.faces().sort_by_distance(p)[0] for p in [
        (-6.95, 55, 11),
    ]]
    draft(aufsatz_linear_austragen5_profile_10_sides, Plane.XY.offset(9), AUFSATZ_LINEAR_AUSTRAGEN5_PROFILE_10_DRAFT)


with BuildPart() as part_10:
    add(part_9.part)

    # Aufsatz-Linear austragen5 profile 10: add aufsatz_linear_austragen5_profile_10_tool
    add(aufsatz_linear_austragen5_profile_10_tool.part)


with BuildPart() as aufsatz_linear_austragen5_profile_11_tool:
    # Skizze10 → Aufsatz-Linear austragen5 profile 11 (with draft: the straight prism first)
    with BuildSketch(Plane.XY.offset(9)):
        with Locations((6, 55)):
            Circle(SKIZZE10_R)
    extrude(amount=AUFSATZ_LINEAR_AUSTRAGEN5_PROFILE_11_DEPTH)
    # Aufsatz-Linear austragen5 profile 11: the draft: its side faces are tilted about the plane it starts from
    aufsatz_linear_austragen5_profile_11_sides = [aufsatz_linear_austragen5_profile_11_tool.faces().sort_by_distance(p)[0] for p in [
        (5.05, 55, 11),
    ]]
    draft(aufsatz_linear_austragen5_profile_11_sides, Plane.XY.offset(9), AUFSATZ_LINEAR_AUSTRAGEN5_PROFILE_11_DRAFT)


with BuildPart() as part_11:
    add(part_10.part)

    # Aufsatz-Linear austragen5 profile 11: add aufsatz_linear_austragen5_profile_11_tool
    add(aufsatz_linear_austragen5_profile_11_tool.part)


with BuildPart() as aufsatz_linear_austragen5_profile_12_tool:
    # Skizze10 → Aufsatz-Linear austragen5 profile 12 (with draft: the straight prism first)
    with BuildSketch(Plane.XY.offset(9)):
        with Locations((-36, 81)):
            Circle(SKIZZE10_R)
    extrude(amount=AUFSATZ_LINEAR_AUSTRAGEN5_PROFILE_12_DEPTH)
    # Aufsatz-Linear austragen5 profile 12: the draft: its side faces are tilted about the plane it starts from
    aufsatz_linear_austragen5_profile_12_sides = [aufsatz_linear_austragen5_profile_12_tool.faces().sort_by_distance(p)[0] for p in [
        (-36.95, 81, 11),
    ]]
    draft(aufsatz_linear_austragen5_profile_12_sides, Plane.XY.offset(9), AUFSATZ_LINEAR_AUSTRAGEN5_PROFILE_12_DRAFT)


with BuildPart() as part_12:
    add(part_11.part)

    # Aufsatz-Linear austragen5 profile 12: add aufsatz_linear_austragen5_profile_12_tool
    add(aufsatz_linear_austragen5_profile_12_tool.part)


with BuildPart() as aufsatz_linear_austragen5_profile_13_tool:
    # Skizze10 → Aufsatz-Linear austragen5 profile 13 (with draft: the straight prism first)
    with BuildSketch(Plane.XY.offset(9)):
        with Locations((-6, 81)):
            Circle(SKIZZE10_R)
    extrude(amount=AUFSATZ_LINEAR_AUSTRAGEN5_PROFILE_13_DEPTH)
    # Aufsatz-Linear austragen5 profile 13: the draft: its side faces are tilted about the plane it starts from
    aufsatz_linear_austragen5_profile_13_sides = [aufsatz_linear_austragen5_profile_13_tool.faces().sort_by_distance(p)[0] for p in [
        (-6.95, 81, 11),
    ]]
    draft(aufsatz_linear_austragen5_profile_13_sides, Plane.XY.offset(9), AUFSATZ_LINEAR_AUSTRAGEN5_PROFILE_13_DRAFT)


with BuildPart() as part_13:
    add(part_12.part)

    # Aufsatz-Linear austragen5 profile 13: add aufsatz_linear_austragen5_profile_13_tool
    add(aufsatz_linear_austragen5_profile_13_tool.part)


with BuildPart() as aufsatz_linear_austragen5_profile_14_tool:
    # Skizze10 → Aufsatz-Linear austragen5 profile 14 (with draft: the straight prism first)
    with BuildSketch(Plane.XY.offset(9)):
        with Locations((6, 81)):
            Circle(SKIZZE10_R)
    extrude(amount=AUFSATZ_LINEAR_AUSTRAGEN5_PROFILE_14_DEPTH)
    # Aufsatz-Linear austragen5 profile 14: the draft: its side faces are tilted about the plane it starts from
    aufsatz_linear_austragen5_profile_14_sides = [aufsatz_linear_austragen5_profile_14_tool.faces().sort_by_distance(p)[0] for p in [
        (5.05, 81, 11),
    ]]
    draft(aufsatz_linear_austragen5_profile_14_sides, Plane.XY.offset(9), AUFSATZ_LINEAR_AUSTRAGEN5_PROFILE_14_DRAFT)


with BuildPart() as part_14:
    add(part_13.part)

    # Aufsatz-Linear austragen5 profile 14: add aufsatz_linear_austragen5_profile_14_tool
    add(aufsatz_linear_austragen5_profile_14_tool.part)


with BuildPart() as aufsatz_linear_austragen5_profile_15_tool:
    # Skizze10 → Aufsatz-Linear austragen5 profile 15 (with draft: the straight prism first)
    with BuildSketch(Plane.XY.offset(9)):
        with Locations((36, 81)):
            Circle(SKIZZE10_R)
    extrude(amount=AUFSATZ_LINEAR_AUSTRAGEN5_PROFILE_15_DEPTH)
    # Aufsatz-Linear austragen5 profile 15: the draft: its side faces are tilted about the plane it starts from
    aufsatz_linear_austragen5_profile_15_sides = [aufsatz_linear_austragen5_profile_15_tool.faces().sort_by_distance(p)[0] for p in [
        (35.05, 81, 11),
    ]]
    draft(aufsatz_linear_austragen5_profile_15_sides, Plane.XY.offset(9), AUFSATZ_LINEAR_AUSTRAGEN5_PROFILE_15_DRAFT)


with BuildPart() as part_15:
    add(part_14.part)

    # Aufsatz-Linear austragen5 profile 15: add aufsatz_linear_austragen5_profile_15_tool
    add(aufsatz_linear_austragen5_profile_15_tool.part)


with BuildPart() as aufsatz_linear_austragen5_profile_16_tool:
    # Skizze10 → Aufsatz-Linear austragen5 profile 16 (with draft: the straight prism first)
    with BuildSketch(Plane.XY.offset(9)):
        with Locations((36, 55)):
            Circle(SKIZZE10_R)
    extrude(amount=AUFSATZ_LINEAR_AUSTRAGEN5_PROFILE_16_DEPTH)
    # Aufsatz-Linear austragen5 profile 16: the draft: its side faces are tilted about the plane it starts from
    aufsatz_linear_austragen5_profile_16_sides = [aufsatz_linear_austragen5_profile_16_tool.faces().sort_by_distance(p)[0] for p in [
        (35.05, 55, 11),
    ]]
    draft(aufsatz_linear_austragen5_profile_16_sides, Plane.XY.offset(9), AUFSATZ_LINEAR_AUSTRAGEN5_PROFILE_16_DRAFT)


with BuildPart() as part_16:
    add(part_15.part)

    # Aufsatz-Linear austragen5 profile 16: add aufsatz_linear_austragen5_profile_16_tool
    add(aufsatz_linear_austragen5_profile_16_tool.part)


with BuildPart() as aufsatz_linear_austragen5_profile_17_tool:
    # Skizze10 → Aufsatz-Linear austragen5 profile 17 (with draft: the straight prism first)
    with BuildSketch(Plane.XY.offset(9)):
        with Locations((21, 47)):
            Circle(SKIZZE10_R)
    extrude(amount=AUFSATZ_LINEAR_AUSTRAGEN5_PROFILE_17_DEPTH)
    # Aufsatz-Linear austragen5 profile 17: the draft: its side faces are tilted about the plane it starts from
    aufsatz_linear_austragen5_profile_17_sides = [aufsatz_linear_austragen5_profile_17_tool.faces().sort_by_distance(p)[0] for p in [
        (20.05, 47, 11),
    ]]
    draft(aufsatz_linear_austragen5_profile_17_sides, Plane.XY.offset(9), AUFSATZ_LINEAR_AUSTRAGEN5_PROFILE_17_DRAFT)


with BuildPart() as part_17:
    add(part_16.part)

    # Aufsatz-Linear austragen5 profile 17: add aufsatz_linear_austragen5_profile_17_tool
    add(aufsatz_linear_austragen5_profile_17_tool.part)


with BuildPart() as aufsatz_linear_austragen5_profile_18_tool:
    # Skizze10 → Aufsatz-Linear austragen5 profile 18 (with draft: the straight prism first)
    with BuildSketch(Plane.XY.offset(9)):
        with Locations((51, 47)):
            Circle(SKIZZE10_R)
    extrude(amount=AUFSATZ_LINEAR_AUSTRAGEN5_PROFILE_18_DEPTH)
    # Aufsatz-Linear austragen5 profile 18: the draft: its side faces are tilted about the plane it starts from
    aufsatz_linear_austragen5_profile_18_sides = [aufsatz_linear_austragen5_profile_18_tool.faces().sort_by_distance(p)[0] for p in [
        (50.05, 47, 11),
    ]]
    draft(aufsatz_linear_austragen5_profile_18_sides, Plane.XY.offset(9), AUFSATZ_LINEAR_AUSTRAGEN5_PROFILE_18_DRAFT)


with BuildPart() as part_18:
    add(part_17.part)

    # Aufsatz-Linear austragen5 profile 18: add aufsatz_linear_austragen5_profile_18_tool
    add(aufsatz_linear_austragen5_profile_18_tool.part)


with BuildPart() as aufsatz_linear_austragen5_profile_19_tool:
    # Skizze10 → Aufsatz-Linear austragen5 profile 19 (with draft: the straight prism first)
    with BuildSketch(Plane.XY.offset(9)):
        with Locations((21, 21)):
            Circle(SKIZZE10_R)
    extrude(amount=AUFSATZ_LINEAR_AUSTRAGEN5_PROFILE_19_DEPTH)
    # Aufsatz-Linear austragen5 profile 19: the draft: its side faces are tilted about the plane it starts from
    aufsatz_linear_austragen5_profile_19_sides = [aufsatz_linear_austragen5_profile_19_tool.faces().sort_by_distance(p)[0] for p in [
        (20.05, 21, 11),
    ]]
    draft(aufsatz_linear_austragen5_profile_19_sides, Plane.XY.offset(9), AUFSATZ_LINEAR_AUSTRAGEN5_PROFILE_19_DRAFT)


with BuildPart() as part_19:
    add(part_18.part)

    # Aufsatz-Linear austragen5 profile 19: add aufsatz_linear_austragen5_profile_19_tool
    add(aufsatz_linear_austragen5_profile_19_tool.part)


with BuildPart() as aufsatz_linear_austragen5_profile_20_tool:
    # Skizze10 → Aufsatz-Linear austragen5 profile 20 (with draft: the straight prism first)
    with BuildSketch(Plane.XY.offset(9)):
        with Locations((51, 21)):
            Circle(SKIZZE10_R)
    extrude(amount=AUFSATZ_LINEAR_AUSTRAGEN5_PROFILE_20_DEPTH)
    # Aufsatz-Linear austragen5 profile 20: the draft: its side faces are tilted about the plane it starts from
    aufsatz_linear_austragen5_profile_20_sides = [aufsatz_linear_austragen5_profile_20_tool.faces().sort_by_distance(p)[0] for p in [
        (50.05, 21, 11),
    ]]
    draft(aufsatz_linear_austragen5_profile_20_sides, Plane.XY.offset(9), AUFSATZ_LINEAR_AUSTRAGEN5_PROFILE_20_DRAFT)


with BuildPart() as part_20:
    add(part_19.part)

    # Aufsatz-Linear austragen5 profile 20: add aufsatz_linear_austragen5_profile_20_tool
    add(aufsatz_linear_austragen5_profile_20_tool.part)

    # Fase1
    fase1_edges = [part_20.edges().sort_by_distance(p)[0] for p in [
        (-53.1, 67, 33),
        (44.9, 67, 33),
        (-53.1, -67, 33),
        (44.9, -67, 33),
    ]]
    chamfer(fase1_edges, length=FASE1_SIZE)

    # Skizze11 → Schnitt-Linear austragen4 (cut, through all)
    with BuildSketch(Plane.XY.offset(5)):
        with Locations((0, 35)):
            Rectangle(SKIZZE11_W, SKIZZE11_H)
    extrude(amount=-SCHNITT_LINEAR_AUSTRAGEN4_DEPTH, mode=Mode.SUBTRACT)


solid = part_20.part
